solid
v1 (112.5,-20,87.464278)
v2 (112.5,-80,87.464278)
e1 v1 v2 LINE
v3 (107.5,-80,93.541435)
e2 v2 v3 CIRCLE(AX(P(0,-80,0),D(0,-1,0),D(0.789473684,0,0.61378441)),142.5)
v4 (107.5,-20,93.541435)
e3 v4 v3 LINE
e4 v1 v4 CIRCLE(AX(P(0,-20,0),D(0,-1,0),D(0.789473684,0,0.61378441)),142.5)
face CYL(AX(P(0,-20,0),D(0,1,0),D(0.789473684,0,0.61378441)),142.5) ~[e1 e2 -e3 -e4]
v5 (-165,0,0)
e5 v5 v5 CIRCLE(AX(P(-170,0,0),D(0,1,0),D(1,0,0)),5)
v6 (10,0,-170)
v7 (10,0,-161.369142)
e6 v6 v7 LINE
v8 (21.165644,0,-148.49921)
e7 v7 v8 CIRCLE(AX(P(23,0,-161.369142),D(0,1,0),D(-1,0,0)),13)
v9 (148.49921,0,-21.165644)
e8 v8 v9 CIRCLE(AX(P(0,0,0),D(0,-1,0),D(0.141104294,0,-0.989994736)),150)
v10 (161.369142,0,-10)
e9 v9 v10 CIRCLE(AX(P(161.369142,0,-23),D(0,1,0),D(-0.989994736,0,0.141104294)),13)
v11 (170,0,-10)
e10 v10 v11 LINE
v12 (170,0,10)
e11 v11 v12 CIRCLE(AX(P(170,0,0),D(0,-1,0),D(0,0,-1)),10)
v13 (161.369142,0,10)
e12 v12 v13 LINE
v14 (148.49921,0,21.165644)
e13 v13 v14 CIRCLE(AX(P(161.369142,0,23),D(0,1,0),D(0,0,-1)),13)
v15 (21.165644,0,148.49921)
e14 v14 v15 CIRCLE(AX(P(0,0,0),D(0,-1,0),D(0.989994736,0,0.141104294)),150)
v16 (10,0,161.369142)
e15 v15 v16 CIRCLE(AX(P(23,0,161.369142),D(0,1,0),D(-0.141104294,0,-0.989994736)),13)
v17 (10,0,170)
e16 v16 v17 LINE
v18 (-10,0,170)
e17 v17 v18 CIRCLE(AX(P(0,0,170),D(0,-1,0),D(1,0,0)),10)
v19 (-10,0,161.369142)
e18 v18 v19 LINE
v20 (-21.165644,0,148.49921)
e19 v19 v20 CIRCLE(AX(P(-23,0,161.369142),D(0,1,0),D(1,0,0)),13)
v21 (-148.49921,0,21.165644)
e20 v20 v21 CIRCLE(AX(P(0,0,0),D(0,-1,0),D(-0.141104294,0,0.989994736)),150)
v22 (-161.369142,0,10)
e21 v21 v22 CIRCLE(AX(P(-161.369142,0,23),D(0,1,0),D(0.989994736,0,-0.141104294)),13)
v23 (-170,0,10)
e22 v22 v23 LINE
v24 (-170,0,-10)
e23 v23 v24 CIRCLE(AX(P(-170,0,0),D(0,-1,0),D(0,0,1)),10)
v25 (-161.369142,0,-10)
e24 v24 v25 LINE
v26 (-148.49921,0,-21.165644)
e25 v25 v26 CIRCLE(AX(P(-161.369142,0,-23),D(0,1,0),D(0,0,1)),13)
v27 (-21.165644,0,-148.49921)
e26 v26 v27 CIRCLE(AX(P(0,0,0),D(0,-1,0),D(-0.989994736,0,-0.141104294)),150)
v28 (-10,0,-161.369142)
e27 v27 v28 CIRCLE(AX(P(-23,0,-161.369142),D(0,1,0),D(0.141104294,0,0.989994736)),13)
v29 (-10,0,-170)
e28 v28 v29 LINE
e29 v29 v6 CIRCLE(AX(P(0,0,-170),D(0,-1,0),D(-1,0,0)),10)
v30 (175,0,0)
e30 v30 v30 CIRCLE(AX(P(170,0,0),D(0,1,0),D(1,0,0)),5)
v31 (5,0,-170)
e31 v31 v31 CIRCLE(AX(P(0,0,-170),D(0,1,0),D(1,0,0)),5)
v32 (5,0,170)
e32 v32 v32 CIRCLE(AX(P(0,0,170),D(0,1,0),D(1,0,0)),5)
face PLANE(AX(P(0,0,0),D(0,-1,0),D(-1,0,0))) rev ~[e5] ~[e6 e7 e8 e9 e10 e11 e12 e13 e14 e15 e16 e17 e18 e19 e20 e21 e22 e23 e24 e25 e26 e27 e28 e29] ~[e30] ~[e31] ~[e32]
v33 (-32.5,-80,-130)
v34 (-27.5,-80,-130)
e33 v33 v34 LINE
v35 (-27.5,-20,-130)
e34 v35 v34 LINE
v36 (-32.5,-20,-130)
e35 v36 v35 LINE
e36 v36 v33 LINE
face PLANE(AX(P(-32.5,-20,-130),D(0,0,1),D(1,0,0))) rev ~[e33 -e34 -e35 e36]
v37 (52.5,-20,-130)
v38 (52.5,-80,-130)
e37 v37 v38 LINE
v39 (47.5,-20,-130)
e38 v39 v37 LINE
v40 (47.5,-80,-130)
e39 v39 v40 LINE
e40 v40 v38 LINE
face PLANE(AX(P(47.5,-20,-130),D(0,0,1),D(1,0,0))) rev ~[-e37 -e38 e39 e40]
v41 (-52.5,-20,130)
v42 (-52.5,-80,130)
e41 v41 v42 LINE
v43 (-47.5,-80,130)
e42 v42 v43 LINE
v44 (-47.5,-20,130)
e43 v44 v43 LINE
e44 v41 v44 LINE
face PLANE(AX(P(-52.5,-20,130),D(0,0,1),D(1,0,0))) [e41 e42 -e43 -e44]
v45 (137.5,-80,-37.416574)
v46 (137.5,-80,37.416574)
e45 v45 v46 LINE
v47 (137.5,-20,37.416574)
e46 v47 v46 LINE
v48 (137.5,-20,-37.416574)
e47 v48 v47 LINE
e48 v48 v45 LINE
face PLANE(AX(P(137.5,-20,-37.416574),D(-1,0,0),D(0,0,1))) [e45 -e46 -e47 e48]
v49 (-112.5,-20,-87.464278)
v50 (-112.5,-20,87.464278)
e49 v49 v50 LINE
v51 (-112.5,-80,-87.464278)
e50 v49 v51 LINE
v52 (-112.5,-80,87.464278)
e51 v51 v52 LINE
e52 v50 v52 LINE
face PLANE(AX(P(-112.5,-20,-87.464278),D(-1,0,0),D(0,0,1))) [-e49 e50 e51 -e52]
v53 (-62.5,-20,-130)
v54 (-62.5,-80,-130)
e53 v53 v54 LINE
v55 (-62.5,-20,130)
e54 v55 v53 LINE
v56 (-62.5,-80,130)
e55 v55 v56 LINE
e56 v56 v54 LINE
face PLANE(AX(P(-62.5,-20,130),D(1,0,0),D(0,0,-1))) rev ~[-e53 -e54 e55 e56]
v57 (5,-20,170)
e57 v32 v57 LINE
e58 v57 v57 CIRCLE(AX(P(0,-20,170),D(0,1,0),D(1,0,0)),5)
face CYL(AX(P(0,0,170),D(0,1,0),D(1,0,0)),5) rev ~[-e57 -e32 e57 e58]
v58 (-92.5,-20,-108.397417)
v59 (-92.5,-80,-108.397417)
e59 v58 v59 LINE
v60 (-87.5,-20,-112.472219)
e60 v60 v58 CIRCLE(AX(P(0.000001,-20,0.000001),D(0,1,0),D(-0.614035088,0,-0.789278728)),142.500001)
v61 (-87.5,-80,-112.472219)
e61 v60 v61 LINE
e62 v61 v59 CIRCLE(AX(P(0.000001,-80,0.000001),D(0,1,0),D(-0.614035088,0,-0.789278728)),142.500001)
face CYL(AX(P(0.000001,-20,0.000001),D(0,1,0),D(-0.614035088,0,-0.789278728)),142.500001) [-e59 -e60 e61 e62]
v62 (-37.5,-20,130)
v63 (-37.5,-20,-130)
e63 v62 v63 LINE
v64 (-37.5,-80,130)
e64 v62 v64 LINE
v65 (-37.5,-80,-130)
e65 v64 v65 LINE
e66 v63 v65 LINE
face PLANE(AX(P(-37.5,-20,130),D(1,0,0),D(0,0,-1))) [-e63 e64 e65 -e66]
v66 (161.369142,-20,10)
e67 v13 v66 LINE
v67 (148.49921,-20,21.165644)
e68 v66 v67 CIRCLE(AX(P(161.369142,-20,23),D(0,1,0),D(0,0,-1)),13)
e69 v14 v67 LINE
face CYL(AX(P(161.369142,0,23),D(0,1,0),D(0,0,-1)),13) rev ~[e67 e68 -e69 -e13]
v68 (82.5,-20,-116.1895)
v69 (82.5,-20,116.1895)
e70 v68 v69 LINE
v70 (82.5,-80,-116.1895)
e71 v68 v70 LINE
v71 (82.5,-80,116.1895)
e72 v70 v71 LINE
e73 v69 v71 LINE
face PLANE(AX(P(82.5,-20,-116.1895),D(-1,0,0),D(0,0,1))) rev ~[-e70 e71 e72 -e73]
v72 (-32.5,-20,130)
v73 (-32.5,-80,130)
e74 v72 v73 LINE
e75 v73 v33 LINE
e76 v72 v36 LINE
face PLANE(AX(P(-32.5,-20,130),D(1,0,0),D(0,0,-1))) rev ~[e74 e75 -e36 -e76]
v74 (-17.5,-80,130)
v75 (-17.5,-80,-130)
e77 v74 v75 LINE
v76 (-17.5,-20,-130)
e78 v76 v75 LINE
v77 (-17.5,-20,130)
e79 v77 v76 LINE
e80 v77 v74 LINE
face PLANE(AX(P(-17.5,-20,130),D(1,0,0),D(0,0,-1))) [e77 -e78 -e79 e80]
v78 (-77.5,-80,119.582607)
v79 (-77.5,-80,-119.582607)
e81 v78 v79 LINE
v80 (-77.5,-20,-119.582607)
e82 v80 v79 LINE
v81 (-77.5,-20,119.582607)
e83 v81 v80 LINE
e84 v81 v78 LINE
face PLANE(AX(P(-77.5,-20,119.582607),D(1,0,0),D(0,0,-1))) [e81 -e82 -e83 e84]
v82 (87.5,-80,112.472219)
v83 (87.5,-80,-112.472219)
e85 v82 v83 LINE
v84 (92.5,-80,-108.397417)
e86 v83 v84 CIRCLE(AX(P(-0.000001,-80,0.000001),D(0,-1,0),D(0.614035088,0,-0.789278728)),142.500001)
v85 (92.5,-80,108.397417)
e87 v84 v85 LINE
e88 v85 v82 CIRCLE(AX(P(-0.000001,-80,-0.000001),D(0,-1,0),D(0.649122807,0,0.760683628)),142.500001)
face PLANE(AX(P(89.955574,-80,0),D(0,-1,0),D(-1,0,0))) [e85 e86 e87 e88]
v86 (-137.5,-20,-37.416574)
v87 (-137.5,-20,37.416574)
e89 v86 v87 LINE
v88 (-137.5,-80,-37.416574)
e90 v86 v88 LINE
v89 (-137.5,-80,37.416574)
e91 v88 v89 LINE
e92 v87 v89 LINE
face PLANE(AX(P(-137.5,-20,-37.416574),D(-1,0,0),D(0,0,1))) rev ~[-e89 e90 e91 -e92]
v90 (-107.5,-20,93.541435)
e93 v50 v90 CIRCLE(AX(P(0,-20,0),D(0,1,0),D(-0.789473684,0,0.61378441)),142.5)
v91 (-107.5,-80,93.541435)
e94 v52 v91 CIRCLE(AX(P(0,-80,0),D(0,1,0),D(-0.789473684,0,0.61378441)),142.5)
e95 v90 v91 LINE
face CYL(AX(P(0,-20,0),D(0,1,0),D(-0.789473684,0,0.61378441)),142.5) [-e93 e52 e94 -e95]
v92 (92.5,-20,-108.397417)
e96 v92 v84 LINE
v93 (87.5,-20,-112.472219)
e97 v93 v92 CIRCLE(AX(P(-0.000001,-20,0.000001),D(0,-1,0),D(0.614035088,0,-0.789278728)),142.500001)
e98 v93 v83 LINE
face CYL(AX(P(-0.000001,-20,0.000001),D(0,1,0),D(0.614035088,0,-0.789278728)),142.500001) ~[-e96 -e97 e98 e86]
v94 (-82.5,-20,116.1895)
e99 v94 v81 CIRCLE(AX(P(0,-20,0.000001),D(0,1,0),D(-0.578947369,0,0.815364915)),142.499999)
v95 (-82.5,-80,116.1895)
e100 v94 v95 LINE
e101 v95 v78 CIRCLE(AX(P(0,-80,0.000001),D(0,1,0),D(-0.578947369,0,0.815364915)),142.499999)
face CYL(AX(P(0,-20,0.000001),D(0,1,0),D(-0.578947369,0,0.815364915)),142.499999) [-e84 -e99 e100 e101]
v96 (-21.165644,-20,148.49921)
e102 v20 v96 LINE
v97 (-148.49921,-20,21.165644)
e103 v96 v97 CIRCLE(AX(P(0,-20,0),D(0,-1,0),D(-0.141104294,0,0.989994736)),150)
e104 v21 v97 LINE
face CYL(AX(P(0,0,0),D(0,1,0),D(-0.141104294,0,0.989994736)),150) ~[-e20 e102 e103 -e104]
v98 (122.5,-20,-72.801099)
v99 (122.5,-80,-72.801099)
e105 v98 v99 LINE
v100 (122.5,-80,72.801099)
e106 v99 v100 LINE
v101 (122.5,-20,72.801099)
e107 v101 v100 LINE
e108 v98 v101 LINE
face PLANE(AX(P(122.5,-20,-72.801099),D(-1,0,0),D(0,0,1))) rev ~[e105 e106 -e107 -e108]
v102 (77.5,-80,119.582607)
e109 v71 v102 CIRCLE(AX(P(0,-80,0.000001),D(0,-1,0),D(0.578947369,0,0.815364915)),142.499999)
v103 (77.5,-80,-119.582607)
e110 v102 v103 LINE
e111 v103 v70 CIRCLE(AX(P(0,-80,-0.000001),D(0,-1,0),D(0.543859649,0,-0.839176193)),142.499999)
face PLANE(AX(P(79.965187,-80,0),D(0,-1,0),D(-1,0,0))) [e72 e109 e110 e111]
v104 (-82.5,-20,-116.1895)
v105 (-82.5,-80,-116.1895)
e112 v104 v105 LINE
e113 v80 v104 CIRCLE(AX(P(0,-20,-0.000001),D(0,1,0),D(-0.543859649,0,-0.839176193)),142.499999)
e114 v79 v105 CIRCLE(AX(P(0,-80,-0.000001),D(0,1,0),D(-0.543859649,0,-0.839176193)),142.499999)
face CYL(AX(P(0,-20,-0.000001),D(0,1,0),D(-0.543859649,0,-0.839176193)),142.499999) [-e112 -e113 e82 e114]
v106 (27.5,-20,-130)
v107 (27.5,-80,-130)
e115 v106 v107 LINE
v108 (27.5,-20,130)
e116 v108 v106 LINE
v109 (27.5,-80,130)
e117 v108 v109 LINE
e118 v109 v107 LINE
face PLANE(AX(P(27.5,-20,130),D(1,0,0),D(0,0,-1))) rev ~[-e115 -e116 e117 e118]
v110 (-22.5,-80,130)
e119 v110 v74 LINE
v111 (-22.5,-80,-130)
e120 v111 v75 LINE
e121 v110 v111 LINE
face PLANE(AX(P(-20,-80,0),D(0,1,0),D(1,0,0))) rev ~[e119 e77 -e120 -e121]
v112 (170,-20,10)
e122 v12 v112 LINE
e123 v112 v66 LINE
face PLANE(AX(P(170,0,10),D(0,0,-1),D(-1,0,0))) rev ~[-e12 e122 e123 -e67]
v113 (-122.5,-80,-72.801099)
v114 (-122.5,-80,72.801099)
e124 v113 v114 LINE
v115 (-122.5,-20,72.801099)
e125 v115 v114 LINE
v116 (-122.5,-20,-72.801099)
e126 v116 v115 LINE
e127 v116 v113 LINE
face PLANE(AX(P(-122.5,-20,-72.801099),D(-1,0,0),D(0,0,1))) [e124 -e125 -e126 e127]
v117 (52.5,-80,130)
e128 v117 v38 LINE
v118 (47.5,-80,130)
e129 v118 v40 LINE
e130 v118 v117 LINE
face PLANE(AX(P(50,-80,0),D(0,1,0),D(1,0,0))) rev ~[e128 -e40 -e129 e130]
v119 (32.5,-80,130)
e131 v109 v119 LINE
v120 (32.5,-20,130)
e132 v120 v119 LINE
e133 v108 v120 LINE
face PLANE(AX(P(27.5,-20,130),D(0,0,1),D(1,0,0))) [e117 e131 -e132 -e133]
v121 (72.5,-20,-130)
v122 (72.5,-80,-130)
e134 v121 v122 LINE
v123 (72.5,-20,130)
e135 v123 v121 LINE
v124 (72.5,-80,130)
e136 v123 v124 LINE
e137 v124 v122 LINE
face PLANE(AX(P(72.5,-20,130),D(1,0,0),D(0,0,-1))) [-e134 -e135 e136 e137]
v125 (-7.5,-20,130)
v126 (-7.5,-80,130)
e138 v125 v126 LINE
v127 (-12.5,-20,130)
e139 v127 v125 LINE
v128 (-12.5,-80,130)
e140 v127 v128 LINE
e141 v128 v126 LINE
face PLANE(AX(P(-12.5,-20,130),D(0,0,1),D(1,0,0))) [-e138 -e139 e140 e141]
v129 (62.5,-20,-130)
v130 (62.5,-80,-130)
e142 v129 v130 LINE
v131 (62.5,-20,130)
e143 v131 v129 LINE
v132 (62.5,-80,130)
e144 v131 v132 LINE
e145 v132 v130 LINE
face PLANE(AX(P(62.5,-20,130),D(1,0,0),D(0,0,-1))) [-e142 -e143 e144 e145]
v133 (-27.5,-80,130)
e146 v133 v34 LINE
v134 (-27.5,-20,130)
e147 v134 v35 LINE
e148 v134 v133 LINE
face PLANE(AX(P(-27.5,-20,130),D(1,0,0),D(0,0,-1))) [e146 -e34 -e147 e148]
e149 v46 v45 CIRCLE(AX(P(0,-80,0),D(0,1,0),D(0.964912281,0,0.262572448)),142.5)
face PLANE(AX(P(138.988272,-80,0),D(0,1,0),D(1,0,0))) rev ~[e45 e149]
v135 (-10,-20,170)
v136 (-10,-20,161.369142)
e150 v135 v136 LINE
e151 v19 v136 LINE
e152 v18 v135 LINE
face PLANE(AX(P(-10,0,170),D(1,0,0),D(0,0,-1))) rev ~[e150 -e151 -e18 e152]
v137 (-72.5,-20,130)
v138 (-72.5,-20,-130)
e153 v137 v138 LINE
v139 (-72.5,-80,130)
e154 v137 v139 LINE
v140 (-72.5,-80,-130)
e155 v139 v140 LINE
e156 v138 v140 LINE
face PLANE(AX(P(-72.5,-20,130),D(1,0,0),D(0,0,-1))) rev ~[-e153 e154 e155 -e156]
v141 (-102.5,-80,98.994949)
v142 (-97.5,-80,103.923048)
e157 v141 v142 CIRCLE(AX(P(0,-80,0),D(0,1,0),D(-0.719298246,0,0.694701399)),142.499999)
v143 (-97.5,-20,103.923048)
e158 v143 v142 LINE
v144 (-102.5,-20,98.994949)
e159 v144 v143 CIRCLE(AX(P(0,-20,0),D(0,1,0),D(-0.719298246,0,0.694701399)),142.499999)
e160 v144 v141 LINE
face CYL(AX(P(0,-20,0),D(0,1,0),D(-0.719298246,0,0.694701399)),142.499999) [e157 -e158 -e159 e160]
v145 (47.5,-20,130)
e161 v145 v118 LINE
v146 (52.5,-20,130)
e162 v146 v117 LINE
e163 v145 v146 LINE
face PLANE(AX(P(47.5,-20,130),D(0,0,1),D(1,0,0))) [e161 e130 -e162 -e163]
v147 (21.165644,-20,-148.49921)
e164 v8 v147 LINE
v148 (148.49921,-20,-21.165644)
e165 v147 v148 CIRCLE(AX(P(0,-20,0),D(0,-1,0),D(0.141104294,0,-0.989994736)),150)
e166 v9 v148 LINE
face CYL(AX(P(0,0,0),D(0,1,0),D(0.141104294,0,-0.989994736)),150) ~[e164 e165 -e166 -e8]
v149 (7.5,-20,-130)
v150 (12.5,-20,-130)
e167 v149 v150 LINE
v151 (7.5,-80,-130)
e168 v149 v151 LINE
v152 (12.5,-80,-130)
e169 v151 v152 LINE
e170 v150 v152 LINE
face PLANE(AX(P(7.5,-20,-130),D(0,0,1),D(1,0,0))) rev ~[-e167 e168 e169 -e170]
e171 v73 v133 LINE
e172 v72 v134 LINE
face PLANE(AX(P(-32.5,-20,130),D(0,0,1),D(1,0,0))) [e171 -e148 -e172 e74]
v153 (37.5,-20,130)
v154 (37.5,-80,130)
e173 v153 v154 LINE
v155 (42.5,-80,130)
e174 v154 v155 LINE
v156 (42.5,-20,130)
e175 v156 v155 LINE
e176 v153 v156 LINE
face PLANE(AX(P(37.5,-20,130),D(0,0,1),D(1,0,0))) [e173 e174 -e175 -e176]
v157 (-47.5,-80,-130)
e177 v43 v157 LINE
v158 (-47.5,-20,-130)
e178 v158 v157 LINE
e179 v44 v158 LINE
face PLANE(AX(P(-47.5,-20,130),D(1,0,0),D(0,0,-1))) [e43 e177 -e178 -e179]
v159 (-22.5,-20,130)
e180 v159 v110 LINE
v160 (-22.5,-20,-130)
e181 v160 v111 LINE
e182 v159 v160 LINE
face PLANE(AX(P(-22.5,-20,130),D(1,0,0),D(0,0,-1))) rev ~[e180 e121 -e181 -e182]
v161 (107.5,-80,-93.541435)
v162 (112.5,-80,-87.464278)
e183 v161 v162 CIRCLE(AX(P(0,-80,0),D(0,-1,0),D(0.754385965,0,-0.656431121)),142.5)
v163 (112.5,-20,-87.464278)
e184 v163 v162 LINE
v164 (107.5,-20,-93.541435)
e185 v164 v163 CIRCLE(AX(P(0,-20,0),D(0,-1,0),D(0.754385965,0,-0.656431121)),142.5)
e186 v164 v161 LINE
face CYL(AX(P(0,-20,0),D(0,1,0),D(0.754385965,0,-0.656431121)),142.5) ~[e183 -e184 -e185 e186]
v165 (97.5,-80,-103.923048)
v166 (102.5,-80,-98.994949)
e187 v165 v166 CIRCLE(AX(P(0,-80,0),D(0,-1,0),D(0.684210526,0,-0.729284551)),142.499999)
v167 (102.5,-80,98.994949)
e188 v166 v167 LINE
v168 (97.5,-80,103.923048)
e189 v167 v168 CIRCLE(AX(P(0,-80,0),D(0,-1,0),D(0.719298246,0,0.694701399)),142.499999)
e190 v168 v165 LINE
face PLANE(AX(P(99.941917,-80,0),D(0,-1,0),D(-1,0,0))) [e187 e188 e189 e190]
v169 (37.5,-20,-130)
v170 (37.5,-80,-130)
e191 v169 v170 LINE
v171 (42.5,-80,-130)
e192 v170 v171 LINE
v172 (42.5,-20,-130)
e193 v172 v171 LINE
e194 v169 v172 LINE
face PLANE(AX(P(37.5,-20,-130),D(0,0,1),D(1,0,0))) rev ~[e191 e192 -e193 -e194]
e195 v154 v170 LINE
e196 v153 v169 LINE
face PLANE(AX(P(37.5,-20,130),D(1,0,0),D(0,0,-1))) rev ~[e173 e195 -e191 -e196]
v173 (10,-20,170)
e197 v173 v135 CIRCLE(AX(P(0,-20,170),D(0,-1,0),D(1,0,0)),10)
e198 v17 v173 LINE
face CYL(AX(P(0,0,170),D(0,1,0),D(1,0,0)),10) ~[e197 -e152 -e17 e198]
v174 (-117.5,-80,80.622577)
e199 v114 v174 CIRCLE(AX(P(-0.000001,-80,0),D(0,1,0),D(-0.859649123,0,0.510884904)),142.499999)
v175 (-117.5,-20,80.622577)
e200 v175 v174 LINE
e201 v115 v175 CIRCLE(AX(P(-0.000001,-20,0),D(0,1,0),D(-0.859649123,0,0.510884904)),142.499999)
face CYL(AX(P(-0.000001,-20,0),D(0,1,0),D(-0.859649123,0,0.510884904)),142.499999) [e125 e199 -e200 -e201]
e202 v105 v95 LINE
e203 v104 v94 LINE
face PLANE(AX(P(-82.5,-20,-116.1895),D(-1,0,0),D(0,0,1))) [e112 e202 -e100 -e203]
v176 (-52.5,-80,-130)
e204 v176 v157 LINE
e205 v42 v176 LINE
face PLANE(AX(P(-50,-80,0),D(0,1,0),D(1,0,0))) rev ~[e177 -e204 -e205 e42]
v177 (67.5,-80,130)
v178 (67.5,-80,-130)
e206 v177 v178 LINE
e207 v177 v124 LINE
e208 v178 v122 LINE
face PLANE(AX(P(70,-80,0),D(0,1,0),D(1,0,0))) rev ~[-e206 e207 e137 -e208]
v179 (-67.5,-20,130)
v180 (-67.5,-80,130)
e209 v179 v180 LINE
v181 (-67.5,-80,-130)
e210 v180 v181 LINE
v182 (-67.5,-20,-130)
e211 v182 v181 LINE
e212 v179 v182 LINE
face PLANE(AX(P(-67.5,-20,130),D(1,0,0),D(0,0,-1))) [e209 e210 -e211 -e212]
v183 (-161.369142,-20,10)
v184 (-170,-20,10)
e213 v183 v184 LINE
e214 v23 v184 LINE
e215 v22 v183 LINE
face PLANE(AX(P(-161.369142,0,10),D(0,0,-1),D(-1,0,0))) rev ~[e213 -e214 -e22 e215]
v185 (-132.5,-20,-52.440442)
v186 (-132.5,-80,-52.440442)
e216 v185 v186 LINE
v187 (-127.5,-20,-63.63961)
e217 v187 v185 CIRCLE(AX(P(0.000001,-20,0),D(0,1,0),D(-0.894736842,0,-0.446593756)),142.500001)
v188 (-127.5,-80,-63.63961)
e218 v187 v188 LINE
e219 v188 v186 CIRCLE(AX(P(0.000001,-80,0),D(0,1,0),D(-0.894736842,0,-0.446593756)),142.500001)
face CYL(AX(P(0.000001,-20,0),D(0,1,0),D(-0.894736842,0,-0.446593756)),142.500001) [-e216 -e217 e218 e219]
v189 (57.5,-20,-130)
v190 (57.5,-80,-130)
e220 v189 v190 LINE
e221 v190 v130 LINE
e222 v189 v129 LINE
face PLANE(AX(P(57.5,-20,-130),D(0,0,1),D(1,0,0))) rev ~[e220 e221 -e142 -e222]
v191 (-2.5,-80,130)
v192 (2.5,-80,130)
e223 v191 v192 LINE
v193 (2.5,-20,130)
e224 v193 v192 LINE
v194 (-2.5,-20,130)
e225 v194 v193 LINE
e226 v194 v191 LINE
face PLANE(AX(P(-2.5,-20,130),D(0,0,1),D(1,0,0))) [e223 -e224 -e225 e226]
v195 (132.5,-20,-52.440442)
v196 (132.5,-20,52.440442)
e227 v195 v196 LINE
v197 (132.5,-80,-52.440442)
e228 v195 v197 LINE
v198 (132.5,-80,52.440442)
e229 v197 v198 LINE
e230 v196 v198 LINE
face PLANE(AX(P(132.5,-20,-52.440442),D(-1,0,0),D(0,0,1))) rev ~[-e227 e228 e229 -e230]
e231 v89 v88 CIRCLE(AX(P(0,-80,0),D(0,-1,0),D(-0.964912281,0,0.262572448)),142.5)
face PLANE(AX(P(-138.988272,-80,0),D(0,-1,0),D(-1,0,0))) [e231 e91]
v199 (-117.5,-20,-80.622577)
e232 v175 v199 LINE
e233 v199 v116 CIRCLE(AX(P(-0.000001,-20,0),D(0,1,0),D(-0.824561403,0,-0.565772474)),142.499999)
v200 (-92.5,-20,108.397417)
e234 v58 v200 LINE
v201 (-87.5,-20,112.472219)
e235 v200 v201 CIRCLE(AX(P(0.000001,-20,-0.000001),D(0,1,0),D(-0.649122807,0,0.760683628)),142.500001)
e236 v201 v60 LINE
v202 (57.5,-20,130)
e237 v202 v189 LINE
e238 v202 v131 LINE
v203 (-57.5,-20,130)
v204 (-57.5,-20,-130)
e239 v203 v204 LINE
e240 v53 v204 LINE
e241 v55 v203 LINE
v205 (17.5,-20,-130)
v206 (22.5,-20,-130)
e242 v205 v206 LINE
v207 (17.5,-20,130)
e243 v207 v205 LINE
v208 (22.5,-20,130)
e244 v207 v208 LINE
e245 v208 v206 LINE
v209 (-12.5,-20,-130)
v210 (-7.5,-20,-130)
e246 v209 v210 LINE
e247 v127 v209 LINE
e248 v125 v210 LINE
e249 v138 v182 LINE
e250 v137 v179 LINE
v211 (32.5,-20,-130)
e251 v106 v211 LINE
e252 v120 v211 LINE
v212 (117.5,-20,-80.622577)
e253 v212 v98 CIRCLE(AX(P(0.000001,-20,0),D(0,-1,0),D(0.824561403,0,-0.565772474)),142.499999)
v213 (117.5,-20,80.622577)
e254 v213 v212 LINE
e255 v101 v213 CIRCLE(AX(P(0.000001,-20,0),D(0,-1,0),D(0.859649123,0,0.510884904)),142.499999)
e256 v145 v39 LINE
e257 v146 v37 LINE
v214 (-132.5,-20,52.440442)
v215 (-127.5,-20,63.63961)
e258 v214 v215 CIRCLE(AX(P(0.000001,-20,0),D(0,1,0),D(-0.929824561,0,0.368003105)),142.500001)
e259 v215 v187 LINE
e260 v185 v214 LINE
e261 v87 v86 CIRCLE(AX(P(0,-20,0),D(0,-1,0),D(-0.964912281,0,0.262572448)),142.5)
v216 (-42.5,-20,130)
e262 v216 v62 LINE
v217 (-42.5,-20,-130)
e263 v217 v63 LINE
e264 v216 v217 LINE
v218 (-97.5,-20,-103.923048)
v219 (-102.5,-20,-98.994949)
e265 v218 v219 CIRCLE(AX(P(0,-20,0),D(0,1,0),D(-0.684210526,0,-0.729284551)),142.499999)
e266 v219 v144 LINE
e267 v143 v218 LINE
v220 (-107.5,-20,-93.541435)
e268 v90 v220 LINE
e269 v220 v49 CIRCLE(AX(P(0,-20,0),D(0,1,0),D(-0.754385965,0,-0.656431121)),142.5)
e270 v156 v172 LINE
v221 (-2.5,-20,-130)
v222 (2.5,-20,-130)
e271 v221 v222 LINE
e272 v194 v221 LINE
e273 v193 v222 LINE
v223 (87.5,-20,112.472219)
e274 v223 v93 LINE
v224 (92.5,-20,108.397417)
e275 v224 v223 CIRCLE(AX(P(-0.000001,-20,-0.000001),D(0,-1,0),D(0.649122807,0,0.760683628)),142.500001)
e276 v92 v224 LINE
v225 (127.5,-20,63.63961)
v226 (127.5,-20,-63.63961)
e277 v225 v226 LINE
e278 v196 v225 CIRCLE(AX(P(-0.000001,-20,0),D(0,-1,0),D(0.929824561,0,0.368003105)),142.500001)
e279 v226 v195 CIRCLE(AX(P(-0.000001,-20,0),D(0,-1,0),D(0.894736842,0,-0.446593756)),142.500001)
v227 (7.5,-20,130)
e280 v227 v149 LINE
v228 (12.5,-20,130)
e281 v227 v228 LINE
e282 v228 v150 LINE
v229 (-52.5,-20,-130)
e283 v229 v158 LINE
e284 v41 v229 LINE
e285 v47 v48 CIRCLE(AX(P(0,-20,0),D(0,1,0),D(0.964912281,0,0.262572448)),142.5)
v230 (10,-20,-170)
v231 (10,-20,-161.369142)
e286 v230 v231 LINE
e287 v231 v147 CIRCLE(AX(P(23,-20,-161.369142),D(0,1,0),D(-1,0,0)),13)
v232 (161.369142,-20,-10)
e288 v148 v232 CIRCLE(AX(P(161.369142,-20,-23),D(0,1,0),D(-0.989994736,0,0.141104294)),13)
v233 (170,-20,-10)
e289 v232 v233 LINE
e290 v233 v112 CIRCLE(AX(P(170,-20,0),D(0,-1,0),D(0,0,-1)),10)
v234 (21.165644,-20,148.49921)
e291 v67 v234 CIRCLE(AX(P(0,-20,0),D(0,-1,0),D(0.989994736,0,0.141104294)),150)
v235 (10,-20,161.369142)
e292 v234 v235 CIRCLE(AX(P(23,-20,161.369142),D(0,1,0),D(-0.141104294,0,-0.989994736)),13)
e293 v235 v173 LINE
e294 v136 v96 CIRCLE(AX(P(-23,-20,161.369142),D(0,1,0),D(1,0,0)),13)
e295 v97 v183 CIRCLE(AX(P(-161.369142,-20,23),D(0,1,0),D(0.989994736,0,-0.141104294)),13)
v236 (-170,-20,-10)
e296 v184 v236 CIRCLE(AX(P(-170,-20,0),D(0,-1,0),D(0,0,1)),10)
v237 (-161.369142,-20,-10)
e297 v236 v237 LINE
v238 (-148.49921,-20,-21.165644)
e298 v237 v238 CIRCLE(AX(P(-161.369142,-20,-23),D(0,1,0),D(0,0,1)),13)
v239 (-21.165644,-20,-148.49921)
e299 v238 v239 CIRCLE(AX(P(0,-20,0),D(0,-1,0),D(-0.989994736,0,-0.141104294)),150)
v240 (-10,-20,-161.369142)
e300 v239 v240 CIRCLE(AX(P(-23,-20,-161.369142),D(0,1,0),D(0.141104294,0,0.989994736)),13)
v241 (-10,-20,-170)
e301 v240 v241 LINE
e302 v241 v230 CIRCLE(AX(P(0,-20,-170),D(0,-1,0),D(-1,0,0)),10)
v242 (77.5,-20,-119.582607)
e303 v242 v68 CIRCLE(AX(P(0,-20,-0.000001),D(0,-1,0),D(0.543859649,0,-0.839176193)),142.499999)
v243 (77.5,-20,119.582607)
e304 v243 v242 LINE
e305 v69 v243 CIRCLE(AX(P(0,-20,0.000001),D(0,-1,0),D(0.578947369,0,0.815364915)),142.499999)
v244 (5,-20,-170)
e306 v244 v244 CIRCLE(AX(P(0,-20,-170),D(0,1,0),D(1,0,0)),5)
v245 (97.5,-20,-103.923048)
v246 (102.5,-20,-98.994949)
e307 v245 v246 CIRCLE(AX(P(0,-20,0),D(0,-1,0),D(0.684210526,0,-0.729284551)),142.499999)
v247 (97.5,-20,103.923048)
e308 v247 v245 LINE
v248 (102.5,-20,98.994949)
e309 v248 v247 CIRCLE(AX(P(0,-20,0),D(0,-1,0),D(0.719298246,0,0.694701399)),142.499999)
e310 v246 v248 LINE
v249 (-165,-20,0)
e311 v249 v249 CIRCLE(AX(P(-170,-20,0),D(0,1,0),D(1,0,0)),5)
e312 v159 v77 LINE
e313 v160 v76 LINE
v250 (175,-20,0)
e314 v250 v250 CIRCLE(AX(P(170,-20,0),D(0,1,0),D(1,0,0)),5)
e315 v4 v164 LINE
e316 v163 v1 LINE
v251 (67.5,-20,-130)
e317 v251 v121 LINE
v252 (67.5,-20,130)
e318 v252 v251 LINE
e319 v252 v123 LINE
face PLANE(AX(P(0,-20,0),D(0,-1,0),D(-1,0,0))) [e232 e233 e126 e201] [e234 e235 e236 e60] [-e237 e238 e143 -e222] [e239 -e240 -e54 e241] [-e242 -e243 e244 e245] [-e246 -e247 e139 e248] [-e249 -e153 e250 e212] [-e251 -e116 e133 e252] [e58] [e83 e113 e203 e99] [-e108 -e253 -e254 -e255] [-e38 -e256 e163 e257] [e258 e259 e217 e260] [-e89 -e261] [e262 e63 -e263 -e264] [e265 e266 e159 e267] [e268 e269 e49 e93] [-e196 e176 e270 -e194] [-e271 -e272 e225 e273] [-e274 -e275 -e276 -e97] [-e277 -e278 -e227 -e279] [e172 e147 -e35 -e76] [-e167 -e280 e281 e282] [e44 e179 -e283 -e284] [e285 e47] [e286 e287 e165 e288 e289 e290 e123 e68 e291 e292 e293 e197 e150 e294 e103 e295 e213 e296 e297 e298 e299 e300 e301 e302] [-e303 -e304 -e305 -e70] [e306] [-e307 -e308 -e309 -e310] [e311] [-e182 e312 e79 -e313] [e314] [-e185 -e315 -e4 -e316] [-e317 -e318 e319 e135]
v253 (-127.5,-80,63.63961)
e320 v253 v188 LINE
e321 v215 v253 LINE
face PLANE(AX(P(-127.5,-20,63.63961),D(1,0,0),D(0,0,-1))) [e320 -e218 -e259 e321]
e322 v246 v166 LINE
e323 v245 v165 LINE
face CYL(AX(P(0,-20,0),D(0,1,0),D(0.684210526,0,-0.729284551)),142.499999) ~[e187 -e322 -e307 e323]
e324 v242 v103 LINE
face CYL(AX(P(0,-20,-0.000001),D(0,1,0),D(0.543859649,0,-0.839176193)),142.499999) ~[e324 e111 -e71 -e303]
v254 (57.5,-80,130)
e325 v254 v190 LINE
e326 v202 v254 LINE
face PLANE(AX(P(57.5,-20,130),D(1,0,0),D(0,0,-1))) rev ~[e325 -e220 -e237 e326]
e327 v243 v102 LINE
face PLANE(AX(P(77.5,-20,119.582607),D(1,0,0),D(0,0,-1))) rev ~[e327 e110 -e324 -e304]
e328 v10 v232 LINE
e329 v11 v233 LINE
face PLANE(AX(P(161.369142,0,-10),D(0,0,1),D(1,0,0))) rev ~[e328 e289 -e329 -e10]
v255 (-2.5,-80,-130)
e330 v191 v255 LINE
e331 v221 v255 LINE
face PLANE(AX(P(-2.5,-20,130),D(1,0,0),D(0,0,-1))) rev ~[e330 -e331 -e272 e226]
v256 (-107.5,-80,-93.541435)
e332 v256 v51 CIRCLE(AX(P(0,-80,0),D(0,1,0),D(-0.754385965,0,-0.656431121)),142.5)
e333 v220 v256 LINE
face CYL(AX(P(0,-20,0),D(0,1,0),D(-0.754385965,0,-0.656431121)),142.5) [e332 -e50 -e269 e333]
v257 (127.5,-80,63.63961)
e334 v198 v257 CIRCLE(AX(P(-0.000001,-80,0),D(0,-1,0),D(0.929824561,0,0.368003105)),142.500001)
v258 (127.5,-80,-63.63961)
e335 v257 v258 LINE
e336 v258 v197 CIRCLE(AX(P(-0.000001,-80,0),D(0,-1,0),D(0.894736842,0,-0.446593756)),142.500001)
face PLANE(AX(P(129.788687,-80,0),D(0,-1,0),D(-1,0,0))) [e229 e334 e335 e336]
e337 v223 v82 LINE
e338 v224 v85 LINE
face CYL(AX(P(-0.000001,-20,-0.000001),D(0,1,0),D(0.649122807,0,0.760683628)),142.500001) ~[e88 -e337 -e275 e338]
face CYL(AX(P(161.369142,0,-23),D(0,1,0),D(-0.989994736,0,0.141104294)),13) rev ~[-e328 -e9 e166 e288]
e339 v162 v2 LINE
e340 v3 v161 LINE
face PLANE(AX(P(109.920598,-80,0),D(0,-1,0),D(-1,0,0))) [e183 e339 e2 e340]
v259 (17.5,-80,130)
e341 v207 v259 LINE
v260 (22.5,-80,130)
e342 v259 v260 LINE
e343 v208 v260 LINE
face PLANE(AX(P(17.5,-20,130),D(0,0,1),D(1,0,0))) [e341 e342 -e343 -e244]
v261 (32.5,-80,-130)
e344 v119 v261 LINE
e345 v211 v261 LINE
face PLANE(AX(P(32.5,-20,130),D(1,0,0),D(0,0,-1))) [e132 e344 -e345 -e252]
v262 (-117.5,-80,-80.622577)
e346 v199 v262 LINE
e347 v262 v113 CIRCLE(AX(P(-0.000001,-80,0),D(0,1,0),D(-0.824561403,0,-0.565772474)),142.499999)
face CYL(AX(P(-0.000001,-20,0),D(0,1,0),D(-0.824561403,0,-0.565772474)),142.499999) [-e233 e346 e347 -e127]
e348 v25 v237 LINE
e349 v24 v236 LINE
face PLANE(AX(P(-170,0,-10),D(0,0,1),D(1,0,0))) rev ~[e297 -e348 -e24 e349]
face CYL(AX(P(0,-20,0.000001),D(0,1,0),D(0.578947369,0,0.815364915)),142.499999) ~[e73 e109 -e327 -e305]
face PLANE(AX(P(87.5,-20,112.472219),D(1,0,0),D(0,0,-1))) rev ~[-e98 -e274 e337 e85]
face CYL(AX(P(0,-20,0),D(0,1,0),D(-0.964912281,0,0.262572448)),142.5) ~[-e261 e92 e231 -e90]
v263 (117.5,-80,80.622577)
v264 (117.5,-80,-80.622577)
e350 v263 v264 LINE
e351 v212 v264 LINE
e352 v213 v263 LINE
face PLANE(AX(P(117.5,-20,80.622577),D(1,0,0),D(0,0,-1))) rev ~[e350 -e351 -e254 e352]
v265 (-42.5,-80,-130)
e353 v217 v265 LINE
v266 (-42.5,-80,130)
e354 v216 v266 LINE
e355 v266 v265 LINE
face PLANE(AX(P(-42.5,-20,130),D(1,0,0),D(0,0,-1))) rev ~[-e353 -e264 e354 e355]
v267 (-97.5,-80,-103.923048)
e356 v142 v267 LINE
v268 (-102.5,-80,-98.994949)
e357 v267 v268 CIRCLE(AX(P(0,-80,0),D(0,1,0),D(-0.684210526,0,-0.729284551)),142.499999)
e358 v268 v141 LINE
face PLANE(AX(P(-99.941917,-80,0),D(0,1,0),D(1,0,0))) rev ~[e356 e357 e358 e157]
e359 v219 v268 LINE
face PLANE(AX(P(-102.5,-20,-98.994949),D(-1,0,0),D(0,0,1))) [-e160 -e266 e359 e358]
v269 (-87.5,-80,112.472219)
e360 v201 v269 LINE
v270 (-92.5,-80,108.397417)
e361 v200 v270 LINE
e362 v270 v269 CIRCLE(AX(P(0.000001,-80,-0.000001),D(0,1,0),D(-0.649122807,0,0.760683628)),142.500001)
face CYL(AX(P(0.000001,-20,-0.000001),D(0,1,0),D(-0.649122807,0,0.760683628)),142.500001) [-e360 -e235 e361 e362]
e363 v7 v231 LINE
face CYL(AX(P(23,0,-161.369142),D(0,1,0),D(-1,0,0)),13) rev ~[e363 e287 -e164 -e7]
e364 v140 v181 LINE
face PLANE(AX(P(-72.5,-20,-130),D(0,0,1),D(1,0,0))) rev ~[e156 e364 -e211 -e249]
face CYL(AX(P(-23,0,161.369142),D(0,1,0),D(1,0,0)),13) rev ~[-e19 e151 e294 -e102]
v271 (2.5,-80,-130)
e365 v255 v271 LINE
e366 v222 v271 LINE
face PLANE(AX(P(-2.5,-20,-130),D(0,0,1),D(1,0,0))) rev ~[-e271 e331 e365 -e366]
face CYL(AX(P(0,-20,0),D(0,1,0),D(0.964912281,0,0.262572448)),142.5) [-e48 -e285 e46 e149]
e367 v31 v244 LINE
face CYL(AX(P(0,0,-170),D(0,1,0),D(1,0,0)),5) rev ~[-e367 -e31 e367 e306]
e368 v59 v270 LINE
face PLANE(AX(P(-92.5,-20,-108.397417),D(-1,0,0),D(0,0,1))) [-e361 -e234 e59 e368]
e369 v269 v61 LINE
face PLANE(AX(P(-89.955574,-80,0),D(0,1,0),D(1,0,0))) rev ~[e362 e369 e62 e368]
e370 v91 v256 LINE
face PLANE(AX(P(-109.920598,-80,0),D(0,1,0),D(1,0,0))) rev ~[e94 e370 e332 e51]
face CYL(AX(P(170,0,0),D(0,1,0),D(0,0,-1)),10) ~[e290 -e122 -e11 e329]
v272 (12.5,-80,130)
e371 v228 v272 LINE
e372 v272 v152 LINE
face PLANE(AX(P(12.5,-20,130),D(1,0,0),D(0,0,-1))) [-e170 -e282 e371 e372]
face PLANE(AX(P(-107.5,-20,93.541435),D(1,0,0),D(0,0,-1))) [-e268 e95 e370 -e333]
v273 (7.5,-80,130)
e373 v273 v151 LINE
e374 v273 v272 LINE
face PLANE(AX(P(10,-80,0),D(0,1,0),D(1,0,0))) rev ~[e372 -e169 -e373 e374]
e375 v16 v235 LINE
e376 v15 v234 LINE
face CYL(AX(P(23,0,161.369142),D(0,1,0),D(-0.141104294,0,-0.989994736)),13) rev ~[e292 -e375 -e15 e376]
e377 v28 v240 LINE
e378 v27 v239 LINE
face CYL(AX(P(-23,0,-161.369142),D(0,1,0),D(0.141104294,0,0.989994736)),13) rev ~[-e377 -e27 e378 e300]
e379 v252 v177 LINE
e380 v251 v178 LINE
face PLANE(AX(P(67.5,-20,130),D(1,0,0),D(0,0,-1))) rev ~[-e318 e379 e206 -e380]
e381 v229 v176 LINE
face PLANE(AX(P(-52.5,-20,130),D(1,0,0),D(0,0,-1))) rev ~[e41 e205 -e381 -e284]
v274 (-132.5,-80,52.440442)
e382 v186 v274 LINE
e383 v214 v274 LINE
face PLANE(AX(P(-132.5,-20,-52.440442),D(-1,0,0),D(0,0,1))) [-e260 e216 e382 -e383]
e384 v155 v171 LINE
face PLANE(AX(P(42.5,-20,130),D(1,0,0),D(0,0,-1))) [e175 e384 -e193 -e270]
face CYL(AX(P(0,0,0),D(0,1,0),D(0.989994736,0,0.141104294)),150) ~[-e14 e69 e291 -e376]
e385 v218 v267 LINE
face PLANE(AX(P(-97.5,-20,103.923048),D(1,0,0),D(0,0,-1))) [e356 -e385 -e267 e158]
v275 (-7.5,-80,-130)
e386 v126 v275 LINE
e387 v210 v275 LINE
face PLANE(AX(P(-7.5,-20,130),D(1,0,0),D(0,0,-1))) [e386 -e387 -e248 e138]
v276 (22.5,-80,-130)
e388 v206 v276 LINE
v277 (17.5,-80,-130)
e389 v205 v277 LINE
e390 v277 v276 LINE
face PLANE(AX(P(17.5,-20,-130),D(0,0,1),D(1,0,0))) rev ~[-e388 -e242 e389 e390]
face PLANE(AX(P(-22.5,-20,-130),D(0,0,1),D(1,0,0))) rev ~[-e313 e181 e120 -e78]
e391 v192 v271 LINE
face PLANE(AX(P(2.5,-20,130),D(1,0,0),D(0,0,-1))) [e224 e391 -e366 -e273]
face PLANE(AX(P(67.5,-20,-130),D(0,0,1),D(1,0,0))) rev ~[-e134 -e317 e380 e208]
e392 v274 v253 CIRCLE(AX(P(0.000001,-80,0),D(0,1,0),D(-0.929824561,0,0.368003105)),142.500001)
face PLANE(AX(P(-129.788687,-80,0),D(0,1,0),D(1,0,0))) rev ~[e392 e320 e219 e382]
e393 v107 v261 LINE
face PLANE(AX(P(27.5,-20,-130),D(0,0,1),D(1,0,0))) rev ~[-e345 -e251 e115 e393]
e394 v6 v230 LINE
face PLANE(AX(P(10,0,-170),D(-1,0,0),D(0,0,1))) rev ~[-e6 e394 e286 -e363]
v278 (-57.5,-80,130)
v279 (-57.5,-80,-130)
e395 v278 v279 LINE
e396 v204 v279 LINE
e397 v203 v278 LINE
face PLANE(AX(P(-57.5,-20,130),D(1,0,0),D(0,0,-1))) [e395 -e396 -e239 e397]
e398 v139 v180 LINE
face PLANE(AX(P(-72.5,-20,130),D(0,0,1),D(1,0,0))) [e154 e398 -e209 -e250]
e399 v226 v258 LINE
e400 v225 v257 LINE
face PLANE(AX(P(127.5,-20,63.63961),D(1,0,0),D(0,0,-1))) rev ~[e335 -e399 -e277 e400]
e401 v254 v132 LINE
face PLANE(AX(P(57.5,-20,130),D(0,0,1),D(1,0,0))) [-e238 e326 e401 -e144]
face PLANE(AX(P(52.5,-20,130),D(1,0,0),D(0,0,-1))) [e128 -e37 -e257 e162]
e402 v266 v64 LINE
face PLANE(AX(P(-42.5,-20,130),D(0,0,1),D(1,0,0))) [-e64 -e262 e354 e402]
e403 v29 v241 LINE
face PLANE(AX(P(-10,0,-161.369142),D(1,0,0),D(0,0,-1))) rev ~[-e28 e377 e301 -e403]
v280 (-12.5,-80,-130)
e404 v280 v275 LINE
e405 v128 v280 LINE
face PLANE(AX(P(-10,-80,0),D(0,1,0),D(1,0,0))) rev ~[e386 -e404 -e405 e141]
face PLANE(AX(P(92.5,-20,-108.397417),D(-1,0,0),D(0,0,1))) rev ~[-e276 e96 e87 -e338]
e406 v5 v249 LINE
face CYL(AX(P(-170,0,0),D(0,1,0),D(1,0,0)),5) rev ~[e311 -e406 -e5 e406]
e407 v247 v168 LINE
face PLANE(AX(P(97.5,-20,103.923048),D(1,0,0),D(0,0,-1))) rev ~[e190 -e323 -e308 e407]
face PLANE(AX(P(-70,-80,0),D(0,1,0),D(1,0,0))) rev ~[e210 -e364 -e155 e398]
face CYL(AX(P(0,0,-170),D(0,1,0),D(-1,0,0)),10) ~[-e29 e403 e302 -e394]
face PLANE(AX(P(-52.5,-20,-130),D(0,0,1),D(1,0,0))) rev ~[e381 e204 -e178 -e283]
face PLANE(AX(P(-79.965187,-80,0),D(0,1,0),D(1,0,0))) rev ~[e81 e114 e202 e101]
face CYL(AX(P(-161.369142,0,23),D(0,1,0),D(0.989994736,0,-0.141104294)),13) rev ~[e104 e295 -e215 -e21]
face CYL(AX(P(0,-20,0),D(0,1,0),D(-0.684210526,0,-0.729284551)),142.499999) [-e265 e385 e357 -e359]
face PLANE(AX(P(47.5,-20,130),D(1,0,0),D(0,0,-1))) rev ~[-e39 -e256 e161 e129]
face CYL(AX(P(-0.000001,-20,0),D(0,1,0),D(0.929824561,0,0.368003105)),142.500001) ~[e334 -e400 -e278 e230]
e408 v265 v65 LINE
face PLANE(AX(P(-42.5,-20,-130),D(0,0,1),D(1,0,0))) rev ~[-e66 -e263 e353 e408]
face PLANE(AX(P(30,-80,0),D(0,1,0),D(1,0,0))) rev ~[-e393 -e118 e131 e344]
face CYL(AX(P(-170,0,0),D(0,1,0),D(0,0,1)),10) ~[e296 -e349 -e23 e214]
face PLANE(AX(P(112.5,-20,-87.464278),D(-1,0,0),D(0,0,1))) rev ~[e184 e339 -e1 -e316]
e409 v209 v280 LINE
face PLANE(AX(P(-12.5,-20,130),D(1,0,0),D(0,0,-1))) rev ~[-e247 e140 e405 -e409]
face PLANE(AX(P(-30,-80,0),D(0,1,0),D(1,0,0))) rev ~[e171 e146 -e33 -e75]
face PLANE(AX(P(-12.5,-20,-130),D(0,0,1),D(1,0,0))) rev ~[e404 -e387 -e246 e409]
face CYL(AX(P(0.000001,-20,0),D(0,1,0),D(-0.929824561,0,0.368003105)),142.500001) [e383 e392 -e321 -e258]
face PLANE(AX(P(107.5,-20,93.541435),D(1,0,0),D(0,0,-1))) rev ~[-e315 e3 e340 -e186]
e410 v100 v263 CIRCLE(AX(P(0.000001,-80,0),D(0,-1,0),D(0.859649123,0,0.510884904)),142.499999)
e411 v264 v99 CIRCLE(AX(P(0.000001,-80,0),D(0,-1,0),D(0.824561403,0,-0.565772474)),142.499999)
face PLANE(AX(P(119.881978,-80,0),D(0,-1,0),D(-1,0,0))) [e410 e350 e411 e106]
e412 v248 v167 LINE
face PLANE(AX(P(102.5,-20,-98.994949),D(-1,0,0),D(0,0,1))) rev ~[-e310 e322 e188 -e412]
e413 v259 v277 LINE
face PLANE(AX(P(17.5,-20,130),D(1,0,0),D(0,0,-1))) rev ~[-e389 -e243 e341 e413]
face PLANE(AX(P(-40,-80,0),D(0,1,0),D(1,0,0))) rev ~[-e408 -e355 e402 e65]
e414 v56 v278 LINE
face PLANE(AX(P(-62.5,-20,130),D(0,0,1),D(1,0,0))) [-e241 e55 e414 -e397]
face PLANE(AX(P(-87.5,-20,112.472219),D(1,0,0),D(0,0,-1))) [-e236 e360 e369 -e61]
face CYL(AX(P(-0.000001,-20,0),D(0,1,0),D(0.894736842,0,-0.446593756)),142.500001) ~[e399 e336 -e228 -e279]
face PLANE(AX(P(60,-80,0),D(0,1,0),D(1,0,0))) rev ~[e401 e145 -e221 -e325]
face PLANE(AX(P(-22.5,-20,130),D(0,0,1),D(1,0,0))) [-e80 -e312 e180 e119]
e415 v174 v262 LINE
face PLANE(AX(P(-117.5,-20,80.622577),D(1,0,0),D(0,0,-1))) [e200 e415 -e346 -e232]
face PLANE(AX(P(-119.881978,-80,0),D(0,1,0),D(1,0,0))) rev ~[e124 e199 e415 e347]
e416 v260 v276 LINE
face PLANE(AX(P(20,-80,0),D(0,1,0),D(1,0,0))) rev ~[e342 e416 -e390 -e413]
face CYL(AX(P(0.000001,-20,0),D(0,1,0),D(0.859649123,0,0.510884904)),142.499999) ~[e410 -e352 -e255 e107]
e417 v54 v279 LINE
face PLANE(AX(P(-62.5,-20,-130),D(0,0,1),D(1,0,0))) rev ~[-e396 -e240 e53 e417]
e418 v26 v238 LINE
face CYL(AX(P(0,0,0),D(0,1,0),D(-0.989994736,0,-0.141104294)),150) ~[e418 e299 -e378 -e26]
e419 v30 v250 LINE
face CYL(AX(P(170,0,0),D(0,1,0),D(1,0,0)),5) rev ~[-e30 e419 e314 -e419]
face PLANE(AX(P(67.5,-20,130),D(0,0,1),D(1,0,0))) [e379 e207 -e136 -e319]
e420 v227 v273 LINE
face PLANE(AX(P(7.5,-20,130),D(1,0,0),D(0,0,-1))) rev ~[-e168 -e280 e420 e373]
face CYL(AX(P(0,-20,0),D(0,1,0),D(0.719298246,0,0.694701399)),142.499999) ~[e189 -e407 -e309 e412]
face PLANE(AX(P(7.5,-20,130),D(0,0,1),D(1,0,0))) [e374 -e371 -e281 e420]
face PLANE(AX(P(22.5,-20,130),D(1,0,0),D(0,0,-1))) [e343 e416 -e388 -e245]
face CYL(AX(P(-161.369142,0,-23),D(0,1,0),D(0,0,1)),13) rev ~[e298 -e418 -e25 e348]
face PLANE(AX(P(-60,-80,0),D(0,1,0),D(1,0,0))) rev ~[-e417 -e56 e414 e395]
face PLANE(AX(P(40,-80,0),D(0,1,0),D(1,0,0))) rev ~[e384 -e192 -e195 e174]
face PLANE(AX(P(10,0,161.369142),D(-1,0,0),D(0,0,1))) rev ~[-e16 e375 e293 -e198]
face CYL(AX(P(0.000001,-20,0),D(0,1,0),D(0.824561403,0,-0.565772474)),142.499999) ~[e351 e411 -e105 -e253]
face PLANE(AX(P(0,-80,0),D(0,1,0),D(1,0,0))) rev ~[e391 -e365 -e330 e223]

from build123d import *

# Parameters (mm, degrees)
SKETCH3_R           = 5
BOSS_EXTRUDE4_DEPTH = 20
SKETCH4_W           = 5
SKETCH4_H           = 260
BOSS_EXTRUDE5_DEPTH = 60


with BuildPart() as part:
    # Sketch3 → Boss-Extrude4 (new body)
    with BuildSketch(Plane(origin=(0, 0, 0), x_dir=(1, 0, 0), z_dir=(0, 1, 0))):
        with BuildLine():
            Line((161.369142032, 10), (170, 10))
            ThreePointArc((170, 10), (180, 0), (170, -10))
            Line((170, -10), (161.369142032, -10))
            ThreePointArc((161.369142032, -10), (152.849946816, -13.180462695), (148.499210458, -21.165644172))
            ThreePointArc((148.499210458, -21.165644172), (106.066017178, -106.066017178), (21.165644172, -148.499210458))
            ThreePointArc((21.165644172, -148.499210458), (13.180462695, -152.849946816), (10, -161.369142032))
            Line((10, -161.369142032), (10, -170))
            ThreePointArc((10, -170), (0, -180), (-10, -170))
            Line((-10, -170), (-10, -161.369142032))
            ThreePointArc((-10, -161.369142032), (-13.180462695, -152.849946816), (-21.165644172, -148.499210458))
            ThreePointArc((-21.165644172, -148.499210458), (-106.066017178, -106.066017178), (-148.499210458, -21.165644172))
            ThreePointArc((-148.499210458, -21.165644172), (-152.849946816, -13.180462695), (-161.369142032, -10))
            Line((-161.369142032, -10), (-170, -10))
            ThreePointArc((-170, -10), (-180, 0), (-170, 10))
            Line((-170, 10), (-161.369142032, 10))
            ThreePointArc((-161.369142032, 10), (-152.849946816, 13.180462695), (-148.499210458, 21.165644172))
            ThreePointArc((-148.499210458, 21.165644172), (-106.066017178, 106.066017178), (-21.165644172, 148.499210458))
            ThreePointArc((-21.165644172, 148.499210458), (-13.180462695, 152.849946816), (-10, 161.369142032))
            Line((-10, 161.369142032), (-10, 170))
            ThreePointArc((-10, 170), (0, 180), (10, 170))
            Line((10, 170), (10, 161.369142032))
            ThreePointArc((10, 161.369142032), (13.180462695, 152.849946816), (21.165644172, 148.499210458))
            ThreePointArc((21.165644172, 148.499210458), (106.066017178, 106.066017178), (148.499210458, 21.165644172))
            ThreePointArc((148.499210458, 21.165644172), (152.849946816, 13.180462695), (161.369142032, 10))
        make_face()
        with Locations((0, 170)):
            Circle(SKETCH3_R, mode=Mode.SUBTRACT)
        with Locations((170, 0)):
            Circle(SKETCH3_R, mode=Mode.SUBTRACT)
        with Locations((0, -170)):
            Circle(SKETCH3_R, mode=Mode.SUBTRACT)
        with Locations((-170, 0)):
            Circle(SKETCH3_R, mode=Mode.SUBTRACT)
    extrude(amount=-BOSS_EXTRUDE4_DEPTH)

    # Sketch4 → Boss-Extrude5 (add)
    with BuildSketch(Plane(origin=(0, -20, 0), x_dir=(1, 0, 0), z_dir=(0, 1, 0))):
        Rectangle(SKETCH4_W, SKETCH4_H)
        with Locations((10, 0)):
            Rectangle(SKETCH4_W, SKETCH4_H)
        with Locations((20, 0)):
            Rectangle(SKETCH4_W, SKETCH4_H)
        with Locations((30, 0)):
            Rectangle(SKETCH4_W, SKETCH4_H)
        with Locations((40, 0)):
            Rectangle(SKETCH4_W, SKETCH4_H)
        with Locations((50, 0)):
            Rectangle(SKETCH4_W, SKETCH4_H)
        with Locations((60, 0)):
            Rectangle(SKETCH4_W, SKETCH4_H)
        with Locations((70, 0)):
            Rectangle(SKETCH4_W, SKETCH4_H)
        with BuildLine():
            Line((82.5, 116.189500386), (82.5, -116.189500386))
            ThreePointArc((82.5, -116.189500386), (80.017987314, -117.912559578), (77.5, -119.582607431))
            Line((77.5, -119.582607431), (77.5, 119.582607431))
            ThreePointArc((77.5, 119.582607431), (80.017987314, 117.912559578), (82.5, 116.189500386))
        make_face()
        with BuildLine():
            Line((92.5, 108.397416943), (92.5, -108.397416943))
            ThreePointArc((92.5, -108.397416943), (90.023058171, -110.463111478), (87.5, -112.472218792))
            Line((87.5, -112.472218792), (87.5, 112.472218792))
            ThreePointArc((87.5, 112.472218792), (90.023058171, 110.463111478), (92.5, 108.397416943))
        make_face()
        with BuildLine():
            Line((102.5, 98.994949366), (102.5, -98.994949366))
            ThreePointArc((102.5, -98.994949366), (100.030353094, -101.489794856), (97.5, -103.923048454))
            Line((97.5, -103.923048454), (97.5, 103.923048454))
            ThreePointArc((97.5, 103.923048454), (100.030353094, 101.489794856), (102.5, 98.994949366))
        make_face()
        with BuildLine():
            Line((112.5, 87.464278423), (112.5, -87.464278423))
            ThreePointArc((112.5, -87.464278423), (110.041959984, -90.537379258), (107.5, -93.541434669))
            Line((107.5, -93.541434669), (107.5, 93.541434669))
            ThreePointArc((107.5, 93.541434669), (110.041959984, 90.537379258), (112.5, 87.464278423))
        make_face()
        with Locations((-10, 0)):
            Rectangle(SKETCH4_W, SKETCH4_H)
        with Locations((-20, 0)):
            Rectangle(SKETCH4_W, SKETCH4_H)
        with Locations((-30, 0)):
            Rectangle(SKETCH4_W, SKETCH4_H)
        with Locations((-40, 0)):
            Rectangle(SKETCH4_W, SKETCH4_H)
        with Locations((-50, 0)):
            Rectangle(SKETCH4_W, SKETCH4_H)
        with Locations((-60, 0)):
            Rectangle(SKETCH4_W, SKETCH4_H)
        with Locations((-70, 0)):
            Rectangle(SKETCH4_W, SKETCH4_H)
        with BuildLine():
            Line((-82.5, 116.189500386), (-82.5, -116.189500386))
            ThreePointArc((-82.5, -116.189500386), (-80.017987314, -117.912559578), (-77.5, -119.582607431))
            Line((-77.5, -119.582607431), (-77.5, 119.582607431))
            ThreePointArc((-77.5, 119.582607431), (-80.017987314, 117.912559578), (-82.5, 116.189500386))
        make_face()
        with BuildLine():
            Line((-92.5, 108.397416943), (-92.5, -108.397416943))
            ThreePointArc((-92.5, -108.397416943), (-90.023058171, -110.463111478), (-87.5, -112.472218792))
            Line((-87.5, -112.472218792), (-87.5, 112.472218792))
            ThreePointArc((-87.5, 112.472218792), (-90.023058171, 110.463111478), (-92.5, 108.397416943))
        make_face()
        with BuildLine():
            Line((-102.5, 98.994949366), (-102.5, -98.994949366))
            ThreePointArc((-102.5, -98.994949366), (-100.030353094, -101.489794856), (-97.5, -103.923048454))
            Line((-97.5, -103.923048454), (-97.5, 103.923048454))
            ThreePointArc((-97.5, 103.923048454), (-100.030353094, 101.489794856), (-102.5, 98.994949366))
        make_face()
        with BuildLine():
            Line((-112.5, 87.464278423), (-112.5, -87.464278423))
            ThreePointArc((-112.5, -87.464278423), (-110.041959984, -90.537379258), (-107.5, -93.541434669))
            Line((-107.5, -93.541434669), (-107.5, 93.541434669))
            ThreePointArc((-107.5, 93.541434669), (-110.041959984, 90.537379258), (-112.5, 87.464278423))
        make_face()
        with BuildLine():
            Line((-122.5, 72.801098893), (-122.5, -72.801098893))
            ThreePointArc((-122.5, -72.801098893), (-120.063707597, -76.752564245), (-117.5, -80.622577483))
            Line((-117.5, -80.622577483), (-117.5, 80.622577483))
            ThreePointArc((-117.5, 80.622577483), (-120.063707597, 76.752564245), (-122.5, 72.801098893))
        make_face()
        with BuildLine():
            Line((-132.5, 52.440442409), (-132.5, -52.440442409))
            ThreePointArc((-132.5, -52.440442409), (-130.120541577, -58.09384356), (-127.5, -63.639610307))
            Line((-127.5, -63.639610307), (-127.5, 63.639610307))
            ThreePointArc((-127.5, 63.639610307), (-130.120541577, 58.09384356), (-132.5, 52.440442409))
        make_face()
        with BuildLine():
            Line((-137.5, 37.416573868), (-137.5, -37.416573868))
            ThreePointArc((-137.5, -37.416573868), (-142.5, 0), (-137.5, 37.416573868))
        make_face()
        with BuildLine():
            Line((122.5, 72.801098893), (122.5, -72.801098893))
            ThreePointArc((122.5, -72.801098893), (120.063707597, -76.752564245), (117.5, -80.622577483))
            Line((117.5, -80.622577483), (117.5, 80.622577483))
            ThreePointArc((117.5, 80.622577483), (120.063707597, 76.752564245), (122.5, 72.801098893))
        make_face()
        with BuildLine():
            Line((132.5, 52.440442409), (132.5, -52.440442409))
            ThreePointArc((132.5, -52.440442409), (130.120541577, -58.09384356), (127.5, -63.639610307))
            Line((127.5, -63.639610307), (127.5, 63.639610307))
            ThreePointArc((127.5, 63.639610307), (130.120541577, 58.09384356), (132.5, 52.440442409))
        make_face()
        with BuildLine():
            Line((137.5, 37.416573868), (137.5, -37.416573868))
            ThreePointArc((137.5, -37.416573868), (142.5, 0), (137.5, 37.416573868))
        make_face()
    extrude(amount=-BOSS_EXTRUDE5_DEPTH)


solid = part.part
